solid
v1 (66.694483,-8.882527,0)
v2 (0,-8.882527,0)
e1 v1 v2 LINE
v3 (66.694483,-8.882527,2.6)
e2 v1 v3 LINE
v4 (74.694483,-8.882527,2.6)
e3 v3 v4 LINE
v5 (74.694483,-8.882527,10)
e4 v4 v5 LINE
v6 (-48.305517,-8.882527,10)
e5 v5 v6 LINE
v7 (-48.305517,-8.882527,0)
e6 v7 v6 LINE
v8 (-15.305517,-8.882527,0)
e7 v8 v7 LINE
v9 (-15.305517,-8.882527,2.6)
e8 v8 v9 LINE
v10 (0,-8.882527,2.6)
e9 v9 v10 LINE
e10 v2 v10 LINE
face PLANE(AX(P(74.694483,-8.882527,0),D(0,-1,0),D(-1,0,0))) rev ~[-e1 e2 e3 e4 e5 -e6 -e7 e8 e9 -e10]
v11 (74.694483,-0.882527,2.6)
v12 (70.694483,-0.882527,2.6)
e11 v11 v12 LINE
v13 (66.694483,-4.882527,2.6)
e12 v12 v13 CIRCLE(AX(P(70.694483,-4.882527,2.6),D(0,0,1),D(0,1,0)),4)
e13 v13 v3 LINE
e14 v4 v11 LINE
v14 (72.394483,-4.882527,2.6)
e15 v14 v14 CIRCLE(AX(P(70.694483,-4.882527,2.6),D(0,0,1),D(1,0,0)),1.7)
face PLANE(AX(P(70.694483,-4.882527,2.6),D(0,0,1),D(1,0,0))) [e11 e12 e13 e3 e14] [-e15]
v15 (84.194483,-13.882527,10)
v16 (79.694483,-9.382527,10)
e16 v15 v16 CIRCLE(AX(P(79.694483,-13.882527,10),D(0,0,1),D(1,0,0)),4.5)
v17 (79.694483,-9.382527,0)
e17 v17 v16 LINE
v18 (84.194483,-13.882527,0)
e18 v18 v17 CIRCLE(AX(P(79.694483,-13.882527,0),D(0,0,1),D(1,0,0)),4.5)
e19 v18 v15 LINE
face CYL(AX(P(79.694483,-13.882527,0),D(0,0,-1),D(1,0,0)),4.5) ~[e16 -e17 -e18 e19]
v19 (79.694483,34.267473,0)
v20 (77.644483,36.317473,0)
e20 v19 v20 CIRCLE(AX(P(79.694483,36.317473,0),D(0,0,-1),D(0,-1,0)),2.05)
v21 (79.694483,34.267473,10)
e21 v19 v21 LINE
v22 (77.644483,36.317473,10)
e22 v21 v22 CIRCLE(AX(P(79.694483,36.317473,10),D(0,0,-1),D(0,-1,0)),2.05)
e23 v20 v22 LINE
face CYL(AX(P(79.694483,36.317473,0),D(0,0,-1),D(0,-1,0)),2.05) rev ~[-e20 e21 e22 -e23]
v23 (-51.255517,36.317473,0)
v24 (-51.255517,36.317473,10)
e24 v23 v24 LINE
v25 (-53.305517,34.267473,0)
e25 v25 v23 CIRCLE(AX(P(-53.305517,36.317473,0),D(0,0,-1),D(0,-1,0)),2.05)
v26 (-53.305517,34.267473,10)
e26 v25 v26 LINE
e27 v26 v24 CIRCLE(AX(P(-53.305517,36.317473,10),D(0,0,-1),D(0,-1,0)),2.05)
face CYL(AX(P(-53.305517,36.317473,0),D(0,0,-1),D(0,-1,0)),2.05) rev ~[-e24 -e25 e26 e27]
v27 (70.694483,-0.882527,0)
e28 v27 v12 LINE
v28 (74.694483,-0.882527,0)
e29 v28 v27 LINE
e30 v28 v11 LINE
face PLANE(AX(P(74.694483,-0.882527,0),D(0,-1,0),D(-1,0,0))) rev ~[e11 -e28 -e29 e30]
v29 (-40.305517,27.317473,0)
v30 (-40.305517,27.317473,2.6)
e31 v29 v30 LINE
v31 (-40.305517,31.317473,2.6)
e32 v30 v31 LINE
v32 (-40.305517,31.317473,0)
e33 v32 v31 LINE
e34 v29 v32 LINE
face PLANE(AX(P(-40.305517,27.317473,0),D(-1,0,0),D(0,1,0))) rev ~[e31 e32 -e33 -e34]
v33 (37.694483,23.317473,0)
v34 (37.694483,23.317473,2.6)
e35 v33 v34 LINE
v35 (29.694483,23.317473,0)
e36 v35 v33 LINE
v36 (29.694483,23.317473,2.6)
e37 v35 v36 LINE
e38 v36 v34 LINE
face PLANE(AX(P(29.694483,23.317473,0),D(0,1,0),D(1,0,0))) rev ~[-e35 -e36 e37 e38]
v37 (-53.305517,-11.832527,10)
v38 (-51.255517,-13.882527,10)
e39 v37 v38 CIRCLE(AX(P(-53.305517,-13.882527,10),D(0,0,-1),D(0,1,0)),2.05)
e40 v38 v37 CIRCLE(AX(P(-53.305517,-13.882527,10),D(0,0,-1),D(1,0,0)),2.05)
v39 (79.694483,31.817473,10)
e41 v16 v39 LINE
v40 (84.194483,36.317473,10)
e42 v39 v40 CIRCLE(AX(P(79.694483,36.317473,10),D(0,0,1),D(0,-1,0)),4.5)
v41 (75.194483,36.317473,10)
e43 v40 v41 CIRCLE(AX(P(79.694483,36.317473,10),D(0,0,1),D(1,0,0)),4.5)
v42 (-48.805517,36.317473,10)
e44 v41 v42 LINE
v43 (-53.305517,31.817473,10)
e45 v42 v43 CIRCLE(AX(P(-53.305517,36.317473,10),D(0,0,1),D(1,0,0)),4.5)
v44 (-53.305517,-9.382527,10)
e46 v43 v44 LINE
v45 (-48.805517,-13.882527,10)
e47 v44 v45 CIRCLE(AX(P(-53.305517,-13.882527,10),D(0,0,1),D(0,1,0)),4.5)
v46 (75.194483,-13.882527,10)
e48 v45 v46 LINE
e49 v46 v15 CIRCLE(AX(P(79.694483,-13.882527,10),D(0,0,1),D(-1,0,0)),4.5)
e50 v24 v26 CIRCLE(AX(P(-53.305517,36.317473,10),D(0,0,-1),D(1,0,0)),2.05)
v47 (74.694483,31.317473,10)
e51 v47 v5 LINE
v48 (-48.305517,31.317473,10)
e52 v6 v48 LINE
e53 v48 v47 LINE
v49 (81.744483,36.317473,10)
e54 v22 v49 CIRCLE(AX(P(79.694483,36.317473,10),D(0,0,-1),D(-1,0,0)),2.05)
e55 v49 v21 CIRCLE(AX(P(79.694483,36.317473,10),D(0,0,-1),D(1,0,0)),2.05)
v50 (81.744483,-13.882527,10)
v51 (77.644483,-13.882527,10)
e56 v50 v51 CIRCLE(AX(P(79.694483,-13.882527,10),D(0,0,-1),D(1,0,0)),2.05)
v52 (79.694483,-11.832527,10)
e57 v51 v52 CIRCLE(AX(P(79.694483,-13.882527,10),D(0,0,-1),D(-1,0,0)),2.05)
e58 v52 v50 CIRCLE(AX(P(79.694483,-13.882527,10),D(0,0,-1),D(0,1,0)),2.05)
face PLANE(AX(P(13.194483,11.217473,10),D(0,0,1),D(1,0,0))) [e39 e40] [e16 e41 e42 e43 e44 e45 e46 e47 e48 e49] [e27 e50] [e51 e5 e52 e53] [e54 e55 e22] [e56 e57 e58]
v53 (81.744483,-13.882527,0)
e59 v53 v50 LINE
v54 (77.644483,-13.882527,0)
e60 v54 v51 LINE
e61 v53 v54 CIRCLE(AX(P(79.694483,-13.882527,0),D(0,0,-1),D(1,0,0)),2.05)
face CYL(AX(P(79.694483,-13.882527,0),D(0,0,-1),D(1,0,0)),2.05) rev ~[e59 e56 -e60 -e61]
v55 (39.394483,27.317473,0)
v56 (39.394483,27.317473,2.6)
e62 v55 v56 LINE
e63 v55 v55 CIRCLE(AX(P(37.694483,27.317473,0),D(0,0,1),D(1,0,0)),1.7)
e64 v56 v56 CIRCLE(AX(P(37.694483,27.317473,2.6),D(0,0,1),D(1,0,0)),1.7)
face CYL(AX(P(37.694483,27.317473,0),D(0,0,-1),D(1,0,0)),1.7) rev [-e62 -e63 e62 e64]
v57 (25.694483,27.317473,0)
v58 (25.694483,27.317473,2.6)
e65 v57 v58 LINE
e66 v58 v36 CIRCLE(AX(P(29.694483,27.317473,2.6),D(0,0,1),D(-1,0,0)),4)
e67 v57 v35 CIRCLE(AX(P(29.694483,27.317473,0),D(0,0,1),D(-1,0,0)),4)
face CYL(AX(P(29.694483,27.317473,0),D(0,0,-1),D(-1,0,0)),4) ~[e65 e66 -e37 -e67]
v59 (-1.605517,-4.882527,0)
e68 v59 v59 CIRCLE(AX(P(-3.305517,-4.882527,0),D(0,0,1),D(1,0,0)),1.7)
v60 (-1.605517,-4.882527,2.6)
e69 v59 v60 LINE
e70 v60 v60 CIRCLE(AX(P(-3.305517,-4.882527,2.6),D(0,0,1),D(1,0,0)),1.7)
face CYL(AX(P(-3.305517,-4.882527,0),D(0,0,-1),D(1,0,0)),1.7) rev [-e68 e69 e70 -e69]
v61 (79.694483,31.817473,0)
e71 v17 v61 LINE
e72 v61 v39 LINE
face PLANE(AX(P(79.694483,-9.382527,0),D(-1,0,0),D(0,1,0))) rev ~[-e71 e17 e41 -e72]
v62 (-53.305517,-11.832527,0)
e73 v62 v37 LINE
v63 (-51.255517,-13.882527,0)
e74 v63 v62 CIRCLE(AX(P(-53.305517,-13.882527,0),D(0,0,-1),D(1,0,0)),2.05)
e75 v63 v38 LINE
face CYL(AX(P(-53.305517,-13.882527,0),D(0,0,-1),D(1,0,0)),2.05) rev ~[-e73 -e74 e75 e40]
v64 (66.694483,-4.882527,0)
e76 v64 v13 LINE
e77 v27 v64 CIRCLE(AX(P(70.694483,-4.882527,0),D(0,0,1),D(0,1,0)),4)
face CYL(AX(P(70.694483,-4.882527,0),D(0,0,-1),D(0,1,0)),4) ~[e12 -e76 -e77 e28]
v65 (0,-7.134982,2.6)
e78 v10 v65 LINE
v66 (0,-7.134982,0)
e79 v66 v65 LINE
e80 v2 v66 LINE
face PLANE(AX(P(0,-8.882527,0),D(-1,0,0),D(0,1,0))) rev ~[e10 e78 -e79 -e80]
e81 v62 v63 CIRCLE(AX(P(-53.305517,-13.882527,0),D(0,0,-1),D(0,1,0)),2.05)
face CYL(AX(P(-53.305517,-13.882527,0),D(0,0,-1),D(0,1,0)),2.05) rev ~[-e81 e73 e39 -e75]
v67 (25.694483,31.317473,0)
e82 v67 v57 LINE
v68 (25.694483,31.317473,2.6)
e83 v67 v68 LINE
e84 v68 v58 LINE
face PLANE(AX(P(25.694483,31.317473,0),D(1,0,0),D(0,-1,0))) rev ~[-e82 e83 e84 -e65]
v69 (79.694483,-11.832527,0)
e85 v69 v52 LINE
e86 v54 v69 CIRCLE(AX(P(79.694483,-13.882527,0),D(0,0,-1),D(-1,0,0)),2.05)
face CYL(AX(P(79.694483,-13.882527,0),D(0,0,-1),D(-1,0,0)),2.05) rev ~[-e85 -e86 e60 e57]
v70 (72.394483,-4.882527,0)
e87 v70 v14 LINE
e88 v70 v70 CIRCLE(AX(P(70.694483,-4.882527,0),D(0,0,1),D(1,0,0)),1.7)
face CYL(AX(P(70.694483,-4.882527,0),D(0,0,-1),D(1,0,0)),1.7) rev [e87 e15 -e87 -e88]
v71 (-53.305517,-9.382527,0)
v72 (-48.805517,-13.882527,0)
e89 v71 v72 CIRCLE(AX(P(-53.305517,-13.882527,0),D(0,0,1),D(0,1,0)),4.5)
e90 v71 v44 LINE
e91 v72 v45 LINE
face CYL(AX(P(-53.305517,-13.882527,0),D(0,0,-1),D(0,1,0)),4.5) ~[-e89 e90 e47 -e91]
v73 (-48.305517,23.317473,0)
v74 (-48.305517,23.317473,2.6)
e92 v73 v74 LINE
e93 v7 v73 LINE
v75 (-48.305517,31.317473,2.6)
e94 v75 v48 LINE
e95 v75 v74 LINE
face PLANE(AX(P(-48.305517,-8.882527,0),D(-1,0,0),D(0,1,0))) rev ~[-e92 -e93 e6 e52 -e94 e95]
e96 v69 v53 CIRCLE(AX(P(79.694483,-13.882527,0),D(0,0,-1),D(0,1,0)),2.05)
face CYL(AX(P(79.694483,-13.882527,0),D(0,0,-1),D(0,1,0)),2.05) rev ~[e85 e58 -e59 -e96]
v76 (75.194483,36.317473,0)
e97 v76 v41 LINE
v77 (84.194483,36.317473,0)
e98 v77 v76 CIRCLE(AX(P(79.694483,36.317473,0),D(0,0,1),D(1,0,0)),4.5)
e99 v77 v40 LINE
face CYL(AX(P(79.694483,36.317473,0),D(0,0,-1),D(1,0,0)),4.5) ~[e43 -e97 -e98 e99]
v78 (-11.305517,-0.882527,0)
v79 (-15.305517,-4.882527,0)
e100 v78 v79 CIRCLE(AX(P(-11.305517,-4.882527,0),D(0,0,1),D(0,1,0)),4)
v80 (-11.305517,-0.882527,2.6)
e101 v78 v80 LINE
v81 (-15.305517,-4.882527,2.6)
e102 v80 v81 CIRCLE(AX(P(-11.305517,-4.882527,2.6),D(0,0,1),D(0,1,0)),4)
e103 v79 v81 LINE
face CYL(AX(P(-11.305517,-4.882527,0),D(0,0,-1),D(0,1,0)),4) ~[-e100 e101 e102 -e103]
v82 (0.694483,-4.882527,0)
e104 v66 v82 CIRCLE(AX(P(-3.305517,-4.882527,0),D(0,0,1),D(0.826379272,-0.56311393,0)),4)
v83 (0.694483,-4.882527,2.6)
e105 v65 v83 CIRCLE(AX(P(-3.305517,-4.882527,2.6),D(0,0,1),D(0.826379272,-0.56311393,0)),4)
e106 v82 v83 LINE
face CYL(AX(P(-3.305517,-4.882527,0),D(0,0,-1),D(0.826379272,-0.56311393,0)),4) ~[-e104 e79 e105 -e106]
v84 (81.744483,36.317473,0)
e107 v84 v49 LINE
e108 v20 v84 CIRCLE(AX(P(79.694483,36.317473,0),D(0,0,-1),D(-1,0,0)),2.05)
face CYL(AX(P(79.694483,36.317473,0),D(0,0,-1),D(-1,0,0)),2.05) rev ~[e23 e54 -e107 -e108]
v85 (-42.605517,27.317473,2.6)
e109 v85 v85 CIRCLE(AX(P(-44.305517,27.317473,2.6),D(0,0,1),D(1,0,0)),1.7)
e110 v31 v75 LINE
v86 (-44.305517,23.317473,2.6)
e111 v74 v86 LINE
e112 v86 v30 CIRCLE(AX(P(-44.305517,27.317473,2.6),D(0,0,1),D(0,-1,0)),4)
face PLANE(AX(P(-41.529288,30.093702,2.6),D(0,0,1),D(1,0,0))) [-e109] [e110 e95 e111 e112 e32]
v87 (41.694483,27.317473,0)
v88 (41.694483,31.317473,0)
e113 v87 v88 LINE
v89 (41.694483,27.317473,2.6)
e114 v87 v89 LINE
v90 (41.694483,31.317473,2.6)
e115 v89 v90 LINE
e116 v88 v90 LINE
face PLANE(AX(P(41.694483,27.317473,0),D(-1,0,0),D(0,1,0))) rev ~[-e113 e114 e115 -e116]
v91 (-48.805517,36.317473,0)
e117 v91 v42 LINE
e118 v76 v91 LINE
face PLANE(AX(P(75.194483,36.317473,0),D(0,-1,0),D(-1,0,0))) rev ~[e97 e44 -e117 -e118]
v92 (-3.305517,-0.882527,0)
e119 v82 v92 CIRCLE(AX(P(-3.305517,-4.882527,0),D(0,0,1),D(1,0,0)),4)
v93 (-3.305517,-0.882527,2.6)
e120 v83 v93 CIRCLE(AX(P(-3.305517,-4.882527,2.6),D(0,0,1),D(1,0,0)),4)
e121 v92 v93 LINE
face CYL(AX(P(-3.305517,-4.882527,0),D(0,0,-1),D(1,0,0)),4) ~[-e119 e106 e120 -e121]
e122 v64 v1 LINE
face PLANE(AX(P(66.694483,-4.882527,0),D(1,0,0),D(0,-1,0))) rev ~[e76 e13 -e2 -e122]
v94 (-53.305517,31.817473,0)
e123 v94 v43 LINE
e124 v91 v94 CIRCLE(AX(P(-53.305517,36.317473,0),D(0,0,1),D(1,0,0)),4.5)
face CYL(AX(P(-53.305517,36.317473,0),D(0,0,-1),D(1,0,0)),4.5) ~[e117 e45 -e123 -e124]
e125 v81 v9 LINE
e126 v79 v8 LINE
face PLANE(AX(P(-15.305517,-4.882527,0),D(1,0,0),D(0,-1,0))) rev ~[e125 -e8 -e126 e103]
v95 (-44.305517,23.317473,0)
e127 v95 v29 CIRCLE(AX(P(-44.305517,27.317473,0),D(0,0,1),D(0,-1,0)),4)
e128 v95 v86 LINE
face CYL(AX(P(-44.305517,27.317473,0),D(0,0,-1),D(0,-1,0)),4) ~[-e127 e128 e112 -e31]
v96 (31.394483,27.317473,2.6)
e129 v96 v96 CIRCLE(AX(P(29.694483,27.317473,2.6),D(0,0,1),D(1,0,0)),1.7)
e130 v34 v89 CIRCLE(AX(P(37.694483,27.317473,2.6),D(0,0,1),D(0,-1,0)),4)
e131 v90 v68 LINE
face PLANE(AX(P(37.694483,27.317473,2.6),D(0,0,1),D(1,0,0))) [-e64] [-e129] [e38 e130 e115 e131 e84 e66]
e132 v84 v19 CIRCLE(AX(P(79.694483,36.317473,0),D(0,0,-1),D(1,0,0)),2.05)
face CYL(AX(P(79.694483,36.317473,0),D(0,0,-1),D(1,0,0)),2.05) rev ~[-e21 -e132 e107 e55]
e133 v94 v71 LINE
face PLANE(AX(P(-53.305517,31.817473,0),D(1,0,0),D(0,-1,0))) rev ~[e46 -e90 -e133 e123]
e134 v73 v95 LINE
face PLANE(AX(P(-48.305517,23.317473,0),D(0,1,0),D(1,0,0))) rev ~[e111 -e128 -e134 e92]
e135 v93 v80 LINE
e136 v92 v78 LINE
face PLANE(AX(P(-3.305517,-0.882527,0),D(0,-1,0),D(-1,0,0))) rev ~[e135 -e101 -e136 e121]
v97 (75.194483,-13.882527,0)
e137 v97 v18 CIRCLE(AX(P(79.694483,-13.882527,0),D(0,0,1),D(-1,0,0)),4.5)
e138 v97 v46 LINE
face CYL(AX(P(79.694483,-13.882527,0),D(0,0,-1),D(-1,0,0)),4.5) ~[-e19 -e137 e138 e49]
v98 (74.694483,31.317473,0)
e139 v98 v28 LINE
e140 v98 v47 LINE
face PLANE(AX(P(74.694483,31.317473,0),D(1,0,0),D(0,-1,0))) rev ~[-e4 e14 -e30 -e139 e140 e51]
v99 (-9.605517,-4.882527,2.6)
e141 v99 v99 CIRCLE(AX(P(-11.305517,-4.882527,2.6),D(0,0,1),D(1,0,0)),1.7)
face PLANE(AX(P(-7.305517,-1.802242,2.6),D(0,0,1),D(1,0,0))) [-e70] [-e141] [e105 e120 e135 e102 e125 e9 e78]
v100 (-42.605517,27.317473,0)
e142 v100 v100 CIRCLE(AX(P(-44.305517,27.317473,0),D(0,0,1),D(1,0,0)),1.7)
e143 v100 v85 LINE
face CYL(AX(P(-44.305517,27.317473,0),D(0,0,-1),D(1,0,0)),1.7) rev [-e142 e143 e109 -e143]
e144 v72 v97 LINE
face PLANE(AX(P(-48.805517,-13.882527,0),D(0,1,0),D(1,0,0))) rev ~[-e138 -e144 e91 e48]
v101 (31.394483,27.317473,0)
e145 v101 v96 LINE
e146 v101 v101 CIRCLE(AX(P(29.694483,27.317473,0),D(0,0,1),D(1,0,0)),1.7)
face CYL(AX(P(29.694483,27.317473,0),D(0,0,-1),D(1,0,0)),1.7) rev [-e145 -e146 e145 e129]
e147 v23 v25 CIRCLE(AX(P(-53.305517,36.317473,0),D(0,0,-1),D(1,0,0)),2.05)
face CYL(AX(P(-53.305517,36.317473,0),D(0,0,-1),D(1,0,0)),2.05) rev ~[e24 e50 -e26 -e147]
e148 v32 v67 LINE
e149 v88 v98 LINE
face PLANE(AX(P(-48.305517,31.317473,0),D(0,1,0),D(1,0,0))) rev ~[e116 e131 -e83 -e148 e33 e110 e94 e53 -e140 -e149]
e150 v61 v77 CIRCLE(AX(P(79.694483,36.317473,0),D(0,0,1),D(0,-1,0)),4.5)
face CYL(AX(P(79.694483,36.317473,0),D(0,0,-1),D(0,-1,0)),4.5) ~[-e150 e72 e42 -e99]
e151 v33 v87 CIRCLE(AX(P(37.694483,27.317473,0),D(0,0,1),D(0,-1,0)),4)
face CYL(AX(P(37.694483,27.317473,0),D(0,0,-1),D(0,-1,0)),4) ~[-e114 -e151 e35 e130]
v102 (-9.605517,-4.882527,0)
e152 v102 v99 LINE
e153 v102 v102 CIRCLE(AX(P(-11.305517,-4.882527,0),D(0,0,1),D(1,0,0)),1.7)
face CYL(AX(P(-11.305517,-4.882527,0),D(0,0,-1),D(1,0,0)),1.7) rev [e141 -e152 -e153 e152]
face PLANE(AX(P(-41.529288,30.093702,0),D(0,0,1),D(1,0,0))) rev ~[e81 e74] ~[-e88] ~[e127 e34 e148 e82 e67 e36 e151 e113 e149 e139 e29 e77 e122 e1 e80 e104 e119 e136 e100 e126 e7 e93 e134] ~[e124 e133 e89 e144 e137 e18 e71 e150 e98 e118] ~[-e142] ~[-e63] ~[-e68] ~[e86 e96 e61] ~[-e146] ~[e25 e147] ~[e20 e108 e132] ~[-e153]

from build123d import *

# Parameters (mm, degrees)
F1_DEPTH = 10
F0_R     = 1.7
F2_DEPTH = 2.6


with BuildPart() as f1:
    # F0 (on Top) → F1 (new body)
    with BuildSketch(Plane.XY):
        with BuildLine():
            Line((75.1944829105, 36.3174733537), (-48.8055170895, 36.3174733537))
            ThreePointArc((-48.8055170895, 36.3174733537), (-50.1235365742, 33.1354928384), (-53.3055170895, 31.8174733537))
            Line((-53.3055170895, 31.8174733537), (-53.3055170895, -9.3825266463))
            ThreePointArc((-53.3055170895, -9.3825266463), (-50.1235365742, -10.7005461309), (-48.8055170895, -13.8825266463))
            Line((-48.8055170895, -13.8825266463), (75.1944829105, -13.8825266463))
            ThreePointArc((75.1944829105, -13.8825266463), (76.5125023952, -10.7005461309), (79.6944829105, -9.3825266463))
            Line((79.6944829105, -9.3825266463), (79.6944829105, 31.8174733537))
            ThreePointArc((79.6944829105, 31.8174733537), (76.5125023952, 33.1354928384), (75.1944829105, 36.3174733537))
        make_face()
        Polygon((-44.3055170895, 31.3174733537), (-40.3055170895, 31.3174733537), (25.6944829105, 31.3174733537), (29.6944829105, 31.3174733537), (37.6944829105, 31.3174733537), (41.6944829105, 31.3174733537), (74.6944829105, 31.3174733537), (74.6944829105, -0.8825266463), (74.6944829105, -4.8825266463), (74.6944829105, -8.8825266463), (70.6944829105, -8.8825266463), (66.6944829105, -8.8825266463), (0, -8.8825266463), (-3.3055170895, -8.8825266463), (-11.3055170999, -8.8825266463), (-15.3055170895, -8.8825266463), (-48.3055170895, -8.8825266463), (-48.3055170895, 23.3174733537), (-48.3055170895, 27.3174733537), (-48.3055170895, 31.3174733537), align=None, mode=Mode.SUBTRACT)
        with BuildLine():
            ThreePointArc((-53.3055170895, 34.2674733537), (-54.7550859909, 37.7670422552), (-51.2555170895, 36.3174733537))
            Line((-51.2555170895, 36.3174733537), (-48.8055170895, 36.3174733537))
            ThreePointArc((-48.8055170895, 36.3174733537), (-56.4874976048, 39.4994538691), (-53.3055170895, 31.8174733537))
            Line((-53.3055170895, 31.8174733537), (-53.3055170895, 34.2674733537))
        make_face()
        with BuildLine():
            Line((-48.8055170895, 36.3174733537), (-51.2555170895, 36.3174733537))
            ThreePointArc((-51.2555170895, 36.3174733537), (-51.8559481881, 34.8679044523), (-53.3055170895, 34.2674733537))
            Line((-53.3055170895, 34.2674733537), (-53.3055170895, 31.8174733537))
            ThreePointArc((-53.3055170895, 31.8174733537), (-50.1235365742, 33.1354928384), (-48.8055170895, 36.3174733537))
        make_face()
        with BuildLine():
            Line((-53.3055170895, -11.8325266463), (-53.3055170895, -9.3825266463))
            ThreePointArc((-53.3055170895, -9.3825266463), (-56.4874976048, -17.0645071616), (-48.8055170895, -13.8825266463))
            Line((-48.8055170895, -13.8825266463), (-51.2555170895, -13.8825266463))
            ThreePointArc((-51.2555170895, -13.8825266463), (-54.7550859909, -15.3320955477), (-53.3055170895, -11.8325266463))
        make_face()
        with BuildLine():
            ThreePointArc((-48.8055170895, -13.8825266463), (-50.1235365742, -10.7005461309), (-53.3055170895, -9.3825266463))
            Line((-53.3055170895, -9.3825266463), (-53.3055170895, -11.8325266463))
            ThreePointArc((-53.3055170895, -11.8325266463), (-51.8559481881, -12.4329577448), (-51.2555170895, -13.8825266463))
            Line((-51.2555170895, -13.8825266463), (-48.8055170895, -13.8825266463))
        make_face()
        with BuildLine():
            ThreePointArc((84.1944829105, -13.8825266463), (82.8764634258, -10.7005461309), (79.6944829105, -9.3825266463))
            Line((79.6944829105, -9.3825266463), (79.6944829105, -11.8325266463))
            ThreePointArc((79.6944829105, -11.8325266463), (81.1440518119, -12.4329577448), (81.7444829105, -13.8825266463))
            ThreePointArc((81.7444829105, -13.8825266463), (79.6944829105, -15.9325266463), (77.6444829105, -13.8825266463))
            Line((77.6444829105, -13.8825266463), (75.1944829105, -13.8825266463))
            ThreePointArc((75.1944829105, -13.8825266463), (79.6944829105, -18.3825266463), (84.1944829105, -13.8825266463))
        make_face()
        with BuildLine():
            Line((79.6944829105, -11.8325266463), (79.6944829105, -9.3825266463))
            ThreePointArc((79.6944829105, -9.3825266463), (76.5125023952, -10.7005461309), (75.1944829105, -13.8825266463))
            Line((75.1944829105, -13.8825266463), (77.6444829105, -13.8825266463))
            ThreePointArc((77.6444829105, -13.8825266463), (78.2449140091, -12.4329577448), (79.6944829105, -11.8325266463))
        make_face()
        with BuildLine():
            Line((77.6444829105, 36.3174733537), (75.1944829105, 36.3174733537))
            ThreePointArc((75.1944829105, 36.3174733537), (76.5125023952, 33.1354928384), (79.6944829105, 31.8174733537))
            Line((79.6944829105, 31.8174733537), (79.6944829105, 34.2674733537))
            ThreePointArc((79.6944829105, 34.2674733537), (78.2449140091, 34.8679044523), (77.6444829105, 36.3174733537))
        make_face()
        with BuildLine():
            ThreePointArc((84.1944829105, 36.3174733537), (79.6944829105, 40.8174733537), (75.1944829105, 36.3174733537))
            Line((75.1944829105, 36.3174733537), (77.6444829105, 36.3174733537))
            ThreePointArc((77.6444829105, 36.3174733537), (79.6944829105, 38.3674733537), (81.7444829105, 36.3174733537))
            ThreePointArc((81.7444829105, 36.3174733537), (81.1440518119, 34.8679044523), (79.6944829105, 34.2674733537))
            Line((79.6944829105, 34.2674733537), (79.6944829105, 31.8174733537))
            ThreePointArc((79.6944829105, 31.8174733537), (82.8764634258, 33.1354928384), (84.1944829105, 36.3174733537))
        make_face()
    extrude(amount=F1_DEPTH)

    # F0 (on Top) → F2 (join)
    with BuildSketch(Plane.XY):
        with BuildLine():
            Line((-40.3055170895, 27.3174733537), (-40.3055170895, 31.3174733537))
            Line((-40.3055170895, 31.3174733537), (-44.3055170895, 31.3174733537))
            ThreePointArc((-44.3055170895, 31.3174733537), (-41.4770899647, 30.1459004785), (-40.3055170895, 27.3174733537))
        make_face()
        with BuildLine():
            ThreePointArc((-48.3055170895, 27.3174733537), (-47.1339442142, 30.1459004785), (-44.3055170895, 31.3174733537))
            Line((-44.3055170895, 31.3174733537), (-48.3055170895, 31.3174733537))
            Line((-48.3055170895, 31.3174733537), (-48.3055170895, 27.3174733537))
        make_face()
        with BuildLine():
            ThreePointArc((-44.3055170895, 23.3174733537), (-47.1339442142, 24.489046229), (-48.3055170895, 27.3174733537))
            Line((-48.3055170895, 27.3174733537), (-48.3055170895, 23.3174733537))
            Line((-48.3055170895, 23.3174733537), (-44.3055170895, 23.3174733537))
        make_face()
        with BuildLine():
            ThreePointArc((-40.3055170895, 27.3174733537), (-41.4770899647, 30.1459004785), (-44.3055170895, 31.3174733537))
            ThreePointArc((-44.3055170895, 31.3174733537), (-47.1339442142, 30.1459004785), (-48.3055170895, 27.3174733537))
            ThreePointArc((-48.3055170895, 27.3174733537), (-47.1339442142, 24.489046229), (-44.3055170895, 23.3174733537))
            ThreePointArc((-44.3055170895, 23.3174733537), (-41.4770899647, 24.489046229), (-40.3055170895, 27.3174733537))
        make_face()
        with Locations((-44.3055170895, 27.3174733537)):
            Circle(F0_R, mode=Mode.SUBTRACT)
        with BuildLine():
            ThreePointArc((-11.3055170895, -0.8825266463), (-8.4770899647, -2.0540995215), (-7.3055170895, -4.8825266463))
            ThreePointArc((-7.3055170895, -4.8825266463), (-6.1339442142, -2.0540995215), (-3.3055170895, -0.8825266463))
            Line((-3.3055170895, -0.8825266463), (-11.3055170895, -0.8825266463))
        make_face()
        with BuildLine():
            ThreePointArc((-15.3055170895, -4.8825266463), (-14.1339442179, -7.7109537673), (-11.3055170999, -8.8825266463))
            ThreePointArc((-11.3055170999, -8.8825266463), (-8.4770899684, -7.7109537747), (-7.3055170895, -4.8825266463))
            ThreePointArc((-7.3055170895, -4.8825266463), (-8.4770899647, -2.0540995215), (-11.3055170895, -0.8825266463))
            ThreePointArc((-11.3055170895, -0.8825266463), (-14.1339442142, -2.0540995215), (-15.3055170895, -4.8825266463))
        make_face()
        with Locations((-11.3055170895, -4.8825266463)):
            Circle(F0_R, mode=Mode.SUBTRACT)
        with BuildLine():
            ThreePointArc((-7.3055170895, -4.8825266463), (-6.1339442142, -7.710953771), (-3.3055170895, -8.8825266463))
            ThreePointArc((-3.3055170895, -8.8825266463), (-1.4360014945, -8.4187550665), (0, -7.1349823664))
            ThreePointArc((0, -7.1349823664), (0.516921161, -6.0610705873), (0.6944829105, -4.8825266463))
            ThreePointArc((0.6944829105, -4.8825266463), (-0.4770899647, -2.0540995215), (-3.3055170895, -0.8825266463))
            ThreePointArc((-3.3055170895, -0.8825266463), (-6.1339442142, -2.0540995215), (-7.3055170895, -4.8825266463))
        make_face()
        with Locations((-3.3055170895, -4.8825266463)):
            Circle(F0_R, mode=Mode.SUBTRACT)
        with BuildLine():
            ThreePointArc((-7.3055170895, -4.8825266463), (-8.4770899684, -7.7109537747), (-11.3055170999, -8.8825266463))
            Line((-11.3055170999, -8.8825266463), (-3.3055170895, -8.8825266463))
            ThreePointArc((-3.3055170895, -8.8825266463), (-6.1339442142, -7.710953771), (-7.3055170895, -4.8825266463))
        make_face()
        with BuildLine():
            ThreePointArc((0, -7.1349823664), (-1.4360014945, -8.4187550665), (-3.3055170895, -8.8825266463))
            Line((-3.3055170895, -8.8825266463), (0, -8.8825266463))
            Line((0, -8.8825266463), (0, -7.1349823664))
        make_face()
        with BuildLine():
            Line((-15.3055170895, -4.8825266463), (-15.3055170895, -8.8825266463))
            Line((-15.3055170895, -8.8825266463), (-11.3055170999, -8.8825266463))
            ThreePointArc((-11.3055170999, -8.8825266463), (-14.1339442179, -7.7109537673), (-15.3055170895, -4.8825266463))
        make_face()
        with BuildLine():
            ThreePointArc((41.6944829105, 27.3174733537), (40.5229100353, 30.1459004785), (37.6944829105, 31.3174733537))
            ThreePointArc((37.6944829105, 31.3174733537), (34.8660557858, 30.1459004785), (33.6944829105, 27.3174733537))
            ThreePointArc((33.6944829105, 27.3174733537), (34.8660557858, 24.489046229), (37.6944829105, 23.3174733537))
            ThreePointArc((37.6944829105, 23.3174733537), (40.5229100353, 24.489046229), (41.6944829105, 27.3174733537))
        make_face()
        with Locations((37.6944829105, 27.3174733537)):
            Circle(F0_R, mode=Mode.SUBTRACT)
        with BuildLine():
            Line((29.6944829105, 31.3174733537), (25.6944829105, 31.3174733537))
            Line((25.6944829105, 31.3174733537), (25.6944829105, 27.3174733537))
            ThreePointArc((25.6944829105, 27.3174733537), (26.8660557858, 30.1459004785), (29.6944829105, 31.3174733537))
        make_face()
        with BuildLine():
            ThreePointArc((37.6944829105, 23.3174733537), (34.8660557858, 24.489046229), (33.6944829105, 27.3174733537))
            ThreePointArc((33.6944829105, 27.3174733537), (32.5229100353, 24.489046229), (29.6944829105, 23.3174733537))
            Line((29.6944829105, 23.3174733537), (37.6944829105, 23.3174733537))
        make_face()
        with BuildLine():
            Line((41.6944829105, 31.3174733537), (37.6944829105, 31.3174733537))
            ThreePointArc((37.6944829105, 31.3174733537), (40.5229100353, 30.1459004785), (41.6944829105, 27.3174733537))
            Line((41.6944829105, 27.3174733537), (41.6944829105, 31.3174733537))
        make_face()
        with BuildLine():
            Line((37.6944829105, 31.3174733537), (29.6944829105, 31.3174733537))
            ThreePointArc((29.6944829105, 31.3174733537), (32.5229100353, 30.1459004785), (33.6944829105, 27.3174733537))
            ThreePointArc((33.6944829105, 27.3174733537), (34.8660557858, 30.1459004785), (37.6944829105, 31.3174733537))
        make_face()
        with BuildLine():
            ThreePointArc((33.6944829105, 27.3174733537), (32.5229100353, 30.1459004785), (29.6944829105, 31.3174733537))
            ThreePointArc((29.6944829105, 31.3174733537), (26.8660557858, 30.1459004785), (25.6944829105, 27.3174733537))
            ThreePointArc((25.6944829105, 27.3174733537), (26.8660557858, 24.489046229), (29.6944829105, 23.3174733537))
            ThreePointArc((29.6944829105, 23.3174733537), (32.5229100353, 24.489046229), (33.6944829105, 27.3174733537))
        make_face()
        with Locations((29.6944829105, 27.3174733537)):
            Circle(F0_R, mode=Mode.SUBTRACT)
        with BuildLine():
            ThreePointArc((70.6944829105, -8.8825266463), (73.5229100353, -7.710953771), (74.6944829105, -4.8825266463))
            ThreePointArc((74.6944829105, -4.8825266463), (73.5229100353, -2.0540995215), (70.6944829105, -0.8825266463))
            ThreePointArc((70.6944829105, -0.8825266463), (67.8660557858, -2.0540995215), (66.6944829105, -4.8825266463))
            ThreePointArc((66.6944829105, -4.8825266463), (67.8660557858, -7.710953771), (70.6944829105, -8.8825266463))
        make_face()
        with Locations((70.6944829105, -4.8825266463)):
            Circle(F0_R, mode=Mode.SUBTRACT)
        with BuildLine():
            Line((66.6944829105, -8.8825266463), (70.6944829105, -8.8825266463))
            ThreePointArc((70.6944829105, -8.8825266463), (67.8660557858, -7.710953771), (66.6944829105, -4.8825266463))
            Line((66.6944829105, -4.8825266463), (66.6944829105, -8.8825266463))
        make_face()
        with BuildLine():
            Line((74.6944829105, -4.8825266463), (74.6944829105, -0.8825266463))
            Line((74.6944829105, -0.8825266463), (70.6944829105, -0.8825266463))
            ThreePointArc((70.6944829105, -0.8825266463), (73.5229100353, -2.0540995215), (74.6944829105, -4.8825266463))
        make_face()
        with BuildLine():
            Line((74.6944829105, -8.8825266463), (74.6944829105, -4.8825266463))
            ThreePointArc((74.6944829105, -4.8825266463), (73.5229100353, -7.710953771), (70.6944829105, -8.8825266463))
            Line((70.6944829105, -8.8825266463), (74.6944829105, -8.8825266463))
        make_face()
    extrude(amount=F2_DEPTH)


solid = f1.part
